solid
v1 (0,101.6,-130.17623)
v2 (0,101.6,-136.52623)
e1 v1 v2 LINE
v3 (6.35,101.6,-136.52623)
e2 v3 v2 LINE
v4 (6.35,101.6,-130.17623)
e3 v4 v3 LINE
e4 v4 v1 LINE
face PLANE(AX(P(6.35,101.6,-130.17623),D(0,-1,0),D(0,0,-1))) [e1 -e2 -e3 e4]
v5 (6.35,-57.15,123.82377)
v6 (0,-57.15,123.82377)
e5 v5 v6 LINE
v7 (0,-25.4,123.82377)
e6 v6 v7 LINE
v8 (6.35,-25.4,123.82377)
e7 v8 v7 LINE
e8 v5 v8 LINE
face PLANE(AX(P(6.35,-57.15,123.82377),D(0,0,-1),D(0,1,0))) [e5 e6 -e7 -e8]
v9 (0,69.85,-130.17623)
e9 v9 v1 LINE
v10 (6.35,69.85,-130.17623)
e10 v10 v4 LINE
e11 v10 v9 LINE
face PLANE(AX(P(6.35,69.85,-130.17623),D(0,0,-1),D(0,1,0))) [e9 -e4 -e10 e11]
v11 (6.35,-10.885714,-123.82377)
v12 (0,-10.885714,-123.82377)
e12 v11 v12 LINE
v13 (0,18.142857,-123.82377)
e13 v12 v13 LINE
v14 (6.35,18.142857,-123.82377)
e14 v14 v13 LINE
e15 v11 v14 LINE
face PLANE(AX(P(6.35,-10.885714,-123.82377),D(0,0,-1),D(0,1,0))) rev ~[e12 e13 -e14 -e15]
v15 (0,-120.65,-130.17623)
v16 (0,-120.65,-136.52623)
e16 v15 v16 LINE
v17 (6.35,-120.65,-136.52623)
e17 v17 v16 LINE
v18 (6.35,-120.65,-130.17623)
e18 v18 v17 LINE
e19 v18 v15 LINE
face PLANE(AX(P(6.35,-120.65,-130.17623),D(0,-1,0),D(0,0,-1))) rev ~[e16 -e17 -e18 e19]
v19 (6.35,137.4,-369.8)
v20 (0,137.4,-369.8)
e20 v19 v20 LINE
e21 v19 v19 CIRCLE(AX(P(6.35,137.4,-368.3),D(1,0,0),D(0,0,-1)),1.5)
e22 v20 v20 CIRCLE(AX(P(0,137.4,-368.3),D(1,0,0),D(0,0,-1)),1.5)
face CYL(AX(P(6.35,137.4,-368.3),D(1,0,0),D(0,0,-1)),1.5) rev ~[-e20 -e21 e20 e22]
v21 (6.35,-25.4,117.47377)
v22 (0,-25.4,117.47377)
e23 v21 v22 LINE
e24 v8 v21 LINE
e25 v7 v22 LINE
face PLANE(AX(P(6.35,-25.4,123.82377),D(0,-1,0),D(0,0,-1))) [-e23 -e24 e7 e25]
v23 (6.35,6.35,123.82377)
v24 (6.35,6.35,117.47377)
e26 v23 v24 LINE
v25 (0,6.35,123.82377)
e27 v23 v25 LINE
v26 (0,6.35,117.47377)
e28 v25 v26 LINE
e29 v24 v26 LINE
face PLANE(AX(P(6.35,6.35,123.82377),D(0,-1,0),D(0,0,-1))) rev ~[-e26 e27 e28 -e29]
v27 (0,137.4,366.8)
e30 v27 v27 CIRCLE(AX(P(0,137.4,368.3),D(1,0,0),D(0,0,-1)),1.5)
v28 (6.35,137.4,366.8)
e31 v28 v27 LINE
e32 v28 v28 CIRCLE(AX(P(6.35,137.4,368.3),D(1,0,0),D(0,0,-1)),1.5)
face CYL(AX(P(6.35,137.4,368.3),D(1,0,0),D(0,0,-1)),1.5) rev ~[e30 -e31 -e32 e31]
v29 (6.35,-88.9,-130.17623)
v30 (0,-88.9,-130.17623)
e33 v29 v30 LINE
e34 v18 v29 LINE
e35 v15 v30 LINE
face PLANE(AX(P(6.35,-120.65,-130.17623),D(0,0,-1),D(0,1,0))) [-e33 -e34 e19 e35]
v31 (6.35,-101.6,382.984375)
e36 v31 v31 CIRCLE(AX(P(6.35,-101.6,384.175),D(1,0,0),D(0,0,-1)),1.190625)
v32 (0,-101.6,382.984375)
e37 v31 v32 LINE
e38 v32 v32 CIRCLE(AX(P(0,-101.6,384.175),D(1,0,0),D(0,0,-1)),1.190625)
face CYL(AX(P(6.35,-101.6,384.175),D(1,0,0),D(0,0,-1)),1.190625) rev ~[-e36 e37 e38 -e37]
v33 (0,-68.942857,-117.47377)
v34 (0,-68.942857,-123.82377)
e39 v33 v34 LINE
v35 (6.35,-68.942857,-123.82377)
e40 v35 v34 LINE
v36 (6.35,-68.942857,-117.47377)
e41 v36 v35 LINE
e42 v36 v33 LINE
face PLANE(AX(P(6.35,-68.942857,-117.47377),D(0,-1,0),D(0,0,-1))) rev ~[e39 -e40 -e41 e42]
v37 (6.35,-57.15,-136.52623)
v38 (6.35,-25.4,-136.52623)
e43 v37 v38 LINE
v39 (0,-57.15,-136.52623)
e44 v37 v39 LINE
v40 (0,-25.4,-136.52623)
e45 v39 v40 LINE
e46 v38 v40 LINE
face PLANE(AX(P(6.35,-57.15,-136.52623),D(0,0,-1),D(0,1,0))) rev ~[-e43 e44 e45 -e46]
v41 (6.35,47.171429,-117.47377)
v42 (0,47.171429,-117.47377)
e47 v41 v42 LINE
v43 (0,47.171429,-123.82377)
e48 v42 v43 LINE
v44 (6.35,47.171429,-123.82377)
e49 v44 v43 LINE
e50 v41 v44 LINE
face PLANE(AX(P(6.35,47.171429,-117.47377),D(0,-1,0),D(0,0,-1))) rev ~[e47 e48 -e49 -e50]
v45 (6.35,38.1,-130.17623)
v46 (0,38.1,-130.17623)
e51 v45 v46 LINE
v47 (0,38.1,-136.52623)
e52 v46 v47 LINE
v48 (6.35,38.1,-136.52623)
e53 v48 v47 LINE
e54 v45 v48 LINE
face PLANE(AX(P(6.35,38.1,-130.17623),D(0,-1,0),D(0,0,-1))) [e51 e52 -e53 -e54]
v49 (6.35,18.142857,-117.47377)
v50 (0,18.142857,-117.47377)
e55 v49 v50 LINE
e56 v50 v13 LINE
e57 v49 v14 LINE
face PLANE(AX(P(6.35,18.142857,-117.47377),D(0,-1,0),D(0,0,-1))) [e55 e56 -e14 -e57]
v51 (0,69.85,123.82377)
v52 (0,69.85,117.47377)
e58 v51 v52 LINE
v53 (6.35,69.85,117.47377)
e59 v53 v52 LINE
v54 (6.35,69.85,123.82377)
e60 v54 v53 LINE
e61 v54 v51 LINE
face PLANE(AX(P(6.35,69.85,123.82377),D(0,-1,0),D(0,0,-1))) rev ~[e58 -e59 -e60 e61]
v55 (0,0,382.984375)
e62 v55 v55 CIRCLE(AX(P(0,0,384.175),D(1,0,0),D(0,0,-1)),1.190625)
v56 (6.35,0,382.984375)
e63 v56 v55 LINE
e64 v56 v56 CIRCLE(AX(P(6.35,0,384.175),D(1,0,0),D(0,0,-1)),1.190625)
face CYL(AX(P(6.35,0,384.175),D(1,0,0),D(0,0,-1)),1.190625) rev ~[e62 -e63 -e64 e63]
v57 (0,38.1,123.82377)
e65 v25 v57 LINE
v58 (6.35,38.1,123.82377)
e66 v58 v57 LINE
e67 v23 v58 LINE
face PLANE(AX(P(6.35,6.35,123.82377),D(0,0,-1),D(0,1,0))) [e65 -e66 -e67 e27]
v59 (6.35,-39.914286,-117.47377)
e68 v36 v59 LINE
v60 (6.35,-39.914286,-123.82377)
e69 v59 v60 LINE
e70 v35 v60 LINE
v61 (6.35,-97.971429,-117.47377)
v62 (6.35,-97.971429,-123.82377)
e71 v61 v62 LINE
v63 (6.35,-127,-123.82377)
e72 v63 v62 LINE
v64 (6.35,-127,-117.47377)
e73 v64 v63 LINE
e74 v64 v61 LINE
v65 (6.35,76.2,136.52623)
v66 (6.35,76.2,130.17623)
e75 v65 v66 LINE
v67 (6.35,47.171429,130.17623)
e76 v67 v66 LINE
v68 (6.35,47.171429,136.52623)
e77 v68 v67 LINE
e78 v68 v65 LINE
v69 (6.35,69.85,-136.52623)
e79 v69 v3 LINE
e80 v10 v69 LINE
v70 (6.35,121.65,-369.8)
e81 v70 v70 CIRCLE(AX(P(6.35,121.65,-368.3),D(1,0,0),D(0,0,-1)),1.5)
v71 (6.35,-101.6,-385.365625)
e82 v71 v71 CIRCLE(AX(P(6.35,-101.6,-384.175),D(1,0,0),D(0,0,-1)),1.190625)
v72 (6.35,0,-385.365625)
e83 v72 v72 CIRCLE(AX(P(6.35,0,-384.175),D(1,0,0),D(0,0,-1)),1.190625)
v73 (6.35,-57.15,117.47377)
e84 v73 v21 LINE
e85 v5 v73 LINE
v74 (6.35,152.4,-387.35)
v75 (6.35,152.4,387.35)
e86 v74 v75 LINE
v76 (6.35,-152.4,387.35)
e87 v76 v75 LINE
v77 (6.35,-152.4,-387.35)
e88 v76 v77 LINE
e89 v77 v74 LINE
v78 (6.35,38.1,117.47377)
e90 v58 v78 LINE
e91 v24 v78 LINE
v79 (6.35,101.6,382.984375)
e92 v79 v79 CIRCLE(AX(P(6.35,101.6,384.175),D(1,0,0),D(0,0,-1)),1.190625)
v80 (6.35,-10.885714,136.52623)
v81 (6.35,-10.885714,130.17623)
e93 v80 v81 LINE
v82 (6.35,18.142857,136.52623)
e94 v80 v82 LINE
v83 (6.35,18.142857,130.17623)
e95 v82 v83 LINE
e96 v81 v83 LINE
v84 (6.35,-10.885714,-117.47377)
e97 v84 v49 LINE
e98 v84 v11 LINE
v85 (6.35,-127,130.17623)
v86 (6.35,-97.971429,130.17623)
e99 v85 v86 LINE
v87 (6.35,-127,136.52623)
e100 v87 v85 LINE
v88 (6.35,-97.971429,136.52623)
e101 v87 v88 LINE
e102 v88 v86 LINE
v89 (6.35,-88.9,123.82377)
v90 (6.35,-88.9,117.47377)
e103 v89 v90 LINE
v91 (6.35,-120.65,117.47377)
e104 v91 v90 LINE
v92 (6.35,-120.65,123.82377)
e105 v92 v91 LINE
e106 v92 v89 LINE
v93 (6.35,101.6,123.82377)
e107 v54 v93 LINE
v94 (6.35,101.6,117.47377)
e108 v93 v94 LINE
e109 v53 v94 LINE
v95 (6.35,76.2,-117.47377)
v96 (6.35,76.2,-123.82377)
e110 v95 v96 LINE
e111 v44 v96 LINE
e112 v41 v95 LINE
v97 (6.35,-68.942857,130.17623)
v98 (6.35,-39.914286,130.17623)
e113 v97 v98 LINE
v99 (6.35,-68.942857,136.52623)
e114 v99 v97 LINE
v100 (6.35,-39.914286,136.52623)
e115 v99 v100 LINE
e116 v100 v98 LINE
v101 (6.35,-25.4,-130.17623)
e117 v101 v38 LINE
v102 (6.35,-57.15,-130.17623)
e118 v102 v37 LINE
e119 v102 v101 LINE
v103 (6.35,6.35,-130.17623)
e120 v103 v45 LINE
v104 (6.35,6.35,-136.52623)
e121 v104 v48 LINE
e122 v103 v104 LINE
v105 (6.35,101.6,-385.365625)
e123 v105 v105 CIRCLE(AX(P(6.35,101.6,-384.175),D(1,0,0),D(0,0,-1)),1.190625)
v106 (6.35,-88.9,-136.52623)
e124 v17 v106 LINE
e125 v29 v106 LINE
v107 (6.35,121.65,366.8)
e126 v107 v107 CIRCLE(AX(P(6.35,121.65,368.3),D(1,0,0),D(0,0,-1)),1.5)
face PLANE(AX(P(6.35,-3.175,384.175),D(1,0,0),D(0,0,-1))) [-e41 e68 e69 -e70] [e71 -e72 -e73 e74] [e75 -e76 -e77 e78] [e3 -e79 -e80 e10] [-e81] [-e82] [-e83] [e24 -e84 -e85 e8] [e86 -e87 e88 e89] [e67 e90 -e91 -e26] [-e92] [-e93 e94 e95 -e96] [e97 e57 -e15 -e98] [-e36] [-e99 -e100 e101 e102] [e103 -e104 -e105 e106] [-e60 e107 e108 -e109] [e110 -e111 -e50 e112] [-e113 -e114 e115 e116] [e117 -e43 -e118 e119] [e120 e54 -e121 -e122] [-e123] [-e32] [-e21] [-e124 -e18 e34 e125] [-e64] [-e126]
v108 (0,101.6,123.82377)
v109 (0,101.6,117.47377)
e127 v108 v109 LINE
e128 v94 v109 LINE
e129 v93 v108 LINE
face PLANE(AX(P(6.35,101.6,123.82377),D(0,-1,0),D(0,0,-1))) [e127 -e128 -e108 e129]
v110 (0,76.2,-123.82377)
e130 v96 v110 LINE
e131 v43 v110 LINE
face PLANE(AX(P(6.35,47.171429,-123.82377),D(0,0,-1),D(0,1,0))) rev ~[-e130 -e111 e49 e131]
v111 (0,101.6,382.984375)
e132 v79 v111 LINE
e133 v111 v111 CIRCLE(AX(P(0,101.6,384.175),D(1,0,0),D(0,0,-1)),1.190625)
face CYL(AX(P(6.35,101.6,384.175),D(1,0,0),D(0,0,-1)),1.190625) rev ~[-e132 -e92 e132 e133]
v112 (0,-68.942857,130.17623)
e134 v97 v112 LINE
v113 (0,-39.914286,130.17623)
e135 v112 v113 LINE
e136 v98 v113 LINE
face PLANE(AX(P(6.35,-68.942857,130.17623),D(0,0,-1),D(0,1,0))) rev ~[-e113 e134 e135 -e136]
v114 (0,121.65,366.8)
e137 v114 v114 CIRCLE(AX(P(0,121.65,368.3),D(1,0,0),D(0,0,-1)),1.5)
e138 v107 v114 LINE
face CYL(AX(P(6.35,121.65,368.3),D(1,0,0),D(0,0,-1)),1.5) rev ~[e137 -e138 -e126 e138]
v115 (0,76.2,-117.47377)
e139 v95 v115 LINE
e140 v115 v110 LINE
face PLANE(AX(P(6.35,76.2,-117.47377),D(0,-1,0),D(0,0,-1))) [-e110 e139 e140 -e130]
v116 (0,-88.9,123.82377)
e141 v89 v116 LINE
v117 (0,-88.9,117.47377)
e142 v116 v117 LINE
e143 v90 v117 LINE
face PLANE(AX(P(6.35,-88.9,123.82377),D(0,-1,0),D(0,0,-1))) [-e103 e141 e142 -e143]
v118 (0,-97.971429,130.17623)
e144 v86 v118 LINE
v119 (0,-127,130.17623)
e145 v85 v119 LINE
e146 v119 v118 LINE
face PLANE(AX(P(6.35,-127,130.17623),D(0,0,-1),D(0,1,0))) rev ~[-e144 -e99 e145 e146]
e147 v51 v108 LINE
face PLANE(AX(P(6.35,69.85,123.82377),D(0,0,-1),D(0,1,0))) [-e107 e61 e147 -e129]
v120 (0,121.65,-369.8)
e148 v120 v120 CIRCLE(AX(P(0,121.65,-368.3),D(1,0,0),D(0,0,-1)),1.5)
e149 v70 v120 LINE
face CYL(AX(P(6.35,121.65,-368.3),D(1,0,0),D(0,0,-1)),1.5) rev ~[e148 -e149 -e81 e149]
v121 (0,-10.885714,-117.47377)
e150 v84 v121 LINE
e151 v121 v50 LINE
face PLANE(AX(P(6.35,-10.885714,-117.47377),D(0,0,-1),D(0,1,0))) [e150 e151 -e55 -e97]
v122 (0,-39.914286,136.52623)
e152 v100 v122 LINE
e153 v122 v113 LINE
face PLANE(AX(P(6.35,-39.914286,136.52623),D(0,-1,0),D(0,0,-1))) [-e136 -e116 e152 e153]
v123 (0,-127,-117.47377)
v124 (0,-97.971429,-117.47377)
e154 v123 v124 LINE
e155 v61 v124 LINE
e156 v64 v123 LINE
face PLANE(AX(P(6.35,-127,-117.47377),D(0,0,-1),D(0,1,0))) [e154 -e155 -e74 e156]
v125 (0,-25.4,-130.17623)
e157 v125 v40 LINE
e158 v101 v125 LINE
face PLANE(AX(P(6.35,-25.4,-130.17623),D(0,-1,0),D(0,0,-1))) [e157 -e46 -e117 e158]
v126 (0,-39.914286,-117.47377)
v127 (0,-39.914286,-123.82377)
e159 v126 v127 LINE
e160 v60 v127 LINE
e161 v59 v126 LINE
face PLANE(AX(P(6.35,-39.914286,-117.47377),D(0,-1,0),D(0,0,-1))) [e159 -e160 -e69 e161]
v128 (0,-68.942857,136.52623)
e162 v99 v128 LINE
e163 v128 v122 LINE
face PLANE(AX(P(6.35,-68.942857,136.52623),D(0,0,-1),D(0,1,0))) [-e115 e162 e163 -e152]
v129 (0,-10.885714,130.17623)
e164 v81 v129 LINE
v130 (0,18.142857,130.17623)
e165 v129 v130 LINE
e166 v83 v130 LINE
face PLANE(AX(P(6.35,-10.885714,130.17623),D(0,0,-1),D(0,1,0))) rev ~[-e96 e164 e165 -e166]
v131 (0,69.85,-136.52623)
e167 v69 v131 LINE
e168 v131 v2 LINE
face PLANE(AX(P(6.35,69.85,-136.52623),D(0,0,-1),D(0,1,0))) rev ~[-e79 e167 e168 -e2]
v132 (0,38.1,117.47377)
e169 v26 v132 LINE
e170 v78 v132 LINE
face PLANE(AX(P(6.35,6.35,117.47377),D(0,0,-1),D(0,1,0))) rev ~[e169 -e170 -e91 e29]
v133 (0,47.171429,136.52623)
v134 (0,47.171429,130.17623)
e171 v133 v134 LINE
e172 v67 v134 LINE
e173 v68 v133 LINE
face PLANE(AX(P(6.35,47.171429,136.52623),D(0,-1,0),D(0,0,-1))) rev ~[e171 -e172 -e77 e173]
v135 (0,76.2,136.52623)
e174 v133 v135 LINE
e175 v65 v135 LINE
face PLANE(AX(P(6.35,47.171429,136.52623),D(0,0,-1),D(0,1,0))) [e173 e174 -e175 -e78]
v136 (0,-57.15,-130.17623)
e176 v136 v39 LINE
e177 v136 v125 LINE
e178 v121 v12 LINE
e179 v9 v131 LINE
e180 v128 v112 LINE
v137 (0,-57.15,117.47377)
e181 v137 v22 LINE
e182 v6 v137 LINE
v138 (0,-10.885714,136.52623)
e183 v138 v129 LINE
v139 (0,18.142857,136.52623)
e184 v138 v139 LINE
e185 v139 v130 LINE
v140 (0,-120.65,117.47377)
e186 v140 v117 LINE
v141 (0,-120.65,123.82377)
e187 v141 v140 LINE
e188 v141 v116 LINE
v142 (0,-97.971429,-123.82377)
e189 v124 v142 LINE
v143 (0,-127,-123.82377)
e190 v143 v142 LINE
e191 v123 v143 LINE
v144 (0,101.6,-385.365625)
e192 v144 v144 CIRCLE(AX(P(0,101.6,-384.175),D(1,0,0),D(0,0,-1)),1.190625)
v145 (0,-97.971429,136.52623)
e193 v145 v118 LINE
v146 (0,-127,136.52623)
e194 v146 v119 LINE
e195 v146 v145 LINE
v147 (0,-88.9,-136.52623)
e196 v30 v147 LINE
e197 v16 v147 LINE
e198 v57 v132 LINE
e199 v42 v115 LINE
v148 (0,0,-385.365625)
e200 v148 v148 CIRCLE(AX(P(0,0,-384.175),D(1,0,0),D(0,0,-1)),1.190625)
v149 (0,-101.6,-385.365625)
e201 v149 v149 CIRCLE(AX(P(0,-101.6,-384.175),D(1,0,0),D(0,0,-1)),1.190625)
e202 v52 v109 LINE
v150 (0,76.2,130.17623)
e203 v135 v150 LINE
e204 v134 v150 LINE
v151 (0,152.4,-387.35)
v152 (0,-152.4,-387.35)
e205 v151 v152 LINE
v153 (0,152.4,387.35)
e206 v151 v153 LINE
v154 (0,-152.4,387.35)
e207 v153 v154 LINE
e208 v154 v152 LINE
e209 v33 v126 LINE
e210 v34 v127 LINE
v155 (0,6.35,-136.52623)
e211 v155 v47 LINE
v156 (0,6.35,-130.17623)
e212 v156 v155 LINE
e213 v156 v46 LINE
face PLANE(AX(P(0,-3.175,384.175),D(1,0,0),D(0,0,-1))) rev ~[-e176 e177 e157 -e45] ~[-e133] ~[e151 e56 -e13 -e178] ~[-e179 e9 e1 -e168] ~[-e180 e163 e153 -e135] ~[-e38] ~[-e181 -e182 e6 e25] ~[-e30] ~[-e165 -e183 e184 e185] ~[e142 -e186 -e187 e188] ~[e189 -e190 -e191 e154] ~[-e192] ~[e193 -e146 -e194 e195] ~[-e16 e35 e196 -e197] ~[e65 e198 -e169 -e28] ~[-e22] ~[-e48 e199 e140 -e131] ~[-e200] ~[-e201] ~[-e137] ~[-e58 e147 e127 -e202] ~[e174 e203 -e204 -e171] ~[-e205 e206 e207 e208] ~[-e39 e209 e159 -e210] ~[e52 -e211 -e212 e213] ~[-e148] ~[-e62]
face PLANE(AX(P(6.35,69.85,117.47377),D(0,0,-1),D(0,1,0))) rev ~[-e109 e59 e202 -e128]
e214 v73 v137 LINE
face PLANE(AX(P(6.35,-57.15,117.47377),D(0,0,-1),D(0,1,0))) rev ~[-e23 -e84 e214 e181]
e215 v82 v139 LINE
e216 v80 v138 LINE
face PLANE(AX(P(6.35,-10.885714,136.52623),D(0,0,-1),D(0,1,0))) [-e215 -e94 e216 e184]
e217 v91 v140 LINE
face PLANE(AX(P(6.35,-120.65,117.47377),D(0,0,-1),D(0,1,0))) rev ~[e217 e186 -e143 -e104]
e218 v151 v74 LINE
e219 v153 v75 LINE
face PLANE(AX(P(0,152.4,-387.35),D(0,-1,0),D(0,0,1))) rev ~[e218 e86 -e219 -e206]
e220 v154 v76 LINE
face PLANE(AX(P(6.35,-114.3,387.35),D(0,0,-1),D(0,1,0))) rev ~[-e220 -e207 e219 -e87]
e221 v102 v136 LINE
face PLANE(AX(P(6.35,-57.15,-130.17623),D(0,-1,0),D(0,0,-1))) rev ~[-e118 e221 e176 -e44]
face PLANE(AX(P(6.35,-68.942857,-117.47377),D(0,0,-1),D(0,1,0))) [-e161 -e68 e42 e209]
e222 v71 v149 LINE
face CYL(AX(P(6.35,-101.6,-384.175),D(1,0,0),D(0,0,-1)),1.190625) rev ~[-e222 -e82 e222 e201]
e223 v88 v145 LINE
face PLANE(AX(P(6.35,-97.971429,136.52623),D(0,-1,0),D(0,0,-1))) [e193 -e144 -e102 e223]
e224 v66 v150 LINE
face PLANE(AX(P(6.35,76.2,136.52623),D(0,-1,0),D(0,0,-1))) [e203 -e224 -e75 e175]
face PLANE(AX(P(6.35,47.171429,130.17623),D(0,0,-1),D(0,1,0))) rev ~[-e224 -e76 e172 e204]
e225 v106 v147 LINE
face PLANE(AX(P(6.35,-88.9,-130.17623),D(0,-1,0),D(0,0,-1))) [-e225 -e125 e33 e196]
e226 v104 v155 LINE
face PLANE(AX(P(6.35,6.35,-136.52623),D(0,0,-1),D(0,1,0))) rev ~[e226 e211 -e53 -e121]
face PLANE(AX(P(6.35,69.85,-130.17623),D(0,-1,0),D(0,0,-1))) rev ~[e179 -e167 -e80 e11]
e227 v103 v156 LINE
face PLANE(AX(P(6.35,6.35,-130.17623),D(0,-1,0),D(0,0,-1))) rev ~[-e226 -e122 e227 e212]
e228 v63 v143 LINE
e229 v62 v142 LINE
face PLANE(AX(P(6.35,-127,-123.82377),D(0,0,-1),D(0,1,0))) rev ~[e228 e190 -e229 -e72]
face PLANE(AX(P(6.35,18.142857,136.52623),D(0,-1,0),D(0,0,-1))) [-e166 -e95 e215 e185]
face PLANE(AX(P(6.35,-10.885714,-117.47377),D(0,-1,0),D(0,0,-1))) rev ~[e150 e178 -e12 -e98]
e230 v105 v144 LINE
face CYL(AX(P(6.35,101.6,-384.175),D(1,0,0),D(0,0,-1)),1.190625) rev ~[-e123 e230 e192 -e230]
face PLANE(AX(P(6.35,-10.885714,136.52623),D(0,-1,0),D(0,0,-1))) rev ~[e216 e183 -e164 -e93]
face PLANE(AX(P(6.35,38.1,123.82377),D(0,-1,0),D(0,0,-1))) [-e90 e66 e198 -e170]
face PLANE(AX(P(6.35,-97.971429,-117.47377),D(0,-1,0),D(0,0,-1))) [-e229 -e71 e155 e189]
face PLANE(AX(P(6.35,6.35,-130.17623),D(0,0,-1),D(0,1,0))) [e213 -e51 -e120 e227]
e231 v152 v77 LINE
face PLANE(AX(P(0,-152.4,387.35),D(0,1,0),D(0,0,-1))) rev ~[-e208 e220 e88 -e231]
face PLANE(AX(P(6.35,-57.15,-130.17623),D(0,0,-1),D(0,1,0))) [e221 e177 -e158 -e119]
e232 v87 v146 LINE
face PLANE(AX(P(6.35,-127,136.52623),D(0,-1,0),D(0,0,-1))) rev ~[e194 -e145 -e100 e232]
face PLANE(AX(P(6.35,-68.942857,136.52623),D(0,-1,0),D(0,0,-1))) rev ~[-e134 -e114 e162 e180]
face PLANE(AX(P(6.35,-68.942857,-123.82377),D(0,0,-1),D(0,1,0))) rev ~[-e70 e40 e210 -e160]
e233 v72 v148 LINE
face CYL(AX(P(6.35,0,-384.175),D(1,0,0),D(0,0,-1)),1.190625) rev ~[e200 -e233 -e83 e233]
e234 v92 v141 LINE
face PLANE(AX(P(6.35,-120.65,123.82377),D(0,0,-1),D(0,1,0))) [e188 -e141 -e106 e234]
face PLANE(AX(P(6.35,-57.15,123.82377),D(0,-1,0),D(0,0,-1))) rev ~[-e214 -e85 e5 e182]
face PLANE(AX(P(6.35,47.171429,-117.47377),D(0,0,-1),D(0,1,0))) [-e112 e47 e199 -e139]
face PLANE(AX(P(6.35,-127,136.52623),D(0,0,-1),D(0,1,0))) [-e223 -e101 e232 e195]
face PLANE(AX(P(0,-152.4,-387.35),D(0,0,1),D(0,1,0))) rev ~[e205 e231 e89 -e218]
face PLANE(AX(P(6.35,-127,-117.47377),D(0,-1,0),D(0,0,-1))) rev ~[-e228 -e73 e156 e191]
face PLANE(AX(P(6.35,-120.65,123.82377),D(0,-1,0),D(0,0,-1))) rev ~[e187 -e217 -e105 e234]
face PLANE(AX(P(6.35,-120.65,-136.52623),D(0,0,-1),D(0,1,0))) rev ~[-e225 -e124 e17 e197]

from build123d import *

# Parameters (mm, degrees)
BOSS_EXTRUDE1_DEPTH            = 6.35
SKETCH3_W                      = 6.35
SKETCH3_H                      = 31.75
SKETCH3_H_2                    = 29.028571429
CUT_EXTRUDE1_DEPTH             = 419.66682159
SKETCH4_R                      = 1.5
CUT_EXTRUDE2_DEPTH             = 6.35
SKETCH5_W                      = 6.35
SKETCH5_H                      = 44.45
SKETCH5_W_2                    = 59.592307692
SKETCH5_H_2                    = 6.35
CUT_EXTRUDE3_DEPTH             = 6.35
SKETCH6_W                      = 6.35
SKETCH6_H                      = 222.25
BOSS_EXTRUDE2_DEPTH            = 6.35
SKETCH7_W                      = 774.7
SKETCH7_H                      = 14.696452311
CUT_EXTRUDE4_DEPTH             = 6.35
SKETCH8_R                      = 1.190625
HOLES_FOR_PLASTIC_SCREWS_DEPTH = 10


with BuildPart() as part:
    # Sketch1 → Boss-Extrude1 (new body)
    with BuildSketch(Plane(origin=(0, 0, 0), x_dir=(0, 0, -1), z_dir=(1, 0, 0))):
        Polygon((-387.35, 152.4), (-387.35, 107.95), (-381, 107.95), (-381, 63.5), (-387.35, 63.5), (-387.35, 19.05), (-381, 19.05), (-381, -25.4), (-387.35, -25.4), (-387.35, -69.85), (-381, -69.85), (-381, -114.3), (-387.35, -114.3), (-387.35, -152.4), (-327.757692308, -152.4), (-327.757692308, -158.75), (-268.165384615, -158.75), (-268.165384615, -152.4), (-208.573076923, -152.4), (-208.573076923, -158.75), (-148.980769231, -158.75), (-148.980769231, -152.4), (-89.388461538, -152.4), (-89.388461538, -158.75), (-29.796153846, -158.75), (-29.796153846, -152.4), (29.796153846, -152.4), (29.796153846, -158.75), (89.388461538, -158.75), (89.388461538, -152.4), (148.980769231, -152.4), (148.980769231, -158.75), (208.573076923, -158.75), (208.573076923, -152.4), (268.165384615, -152.4), (268.165384615, -158.75), (327.757692308, -158.75), (327.757692308, -152.4), (387.35, -152.4), (387.35, -114.3), (381, -114.3), (381, -69.85), (387.35, -69.85), (387.35, -25.4), (381, -25.4), (381, 19.05), (387.35, 19.05), (387.35, 63.5), (381, 63.5), (381, 107.95), (387.35, 107.95), (387.35, 152.4), align=None)
    extrude(amount=BOSS_EXTRUDE1_DEPTH)

    # Sketch3 → Cut-Extrude1 (cut, through all)
    with BuildSketch(Plane(origin=(6.35, 0, 0), x_dir=(0, 0, -1), z_dir=(1, 0, 0))):
        with Locations((-120.648769685, -104.775)):
            Rectangle(SKETCH3_W, SKETCH3_H)
        with Locations((-120.648769685, -41.275)):
            Rectangle(SKETCH3_W, SKETCH3_H)
        with Locations((-120.648769685, 22.225)):
            Rectangle(SKETCH3_W, SKETCH3_H)
        with Locations((-120.648769685, 85.725)):
            Rectangle(SKETCH3_W, SKETCH3_H)
        with Locations((-133.351230315, 61.685714285)):
            Rectangle(SKETCH3_W, SKETCH3_H_2)
        with Locations((-133.351230315, 3.628571428)):
            Rectangle(SKETCH3_W, SKETCH3_H_2)
        with Locations((-133.351230315, -54.428571428)):
            Rectangle(SKETCH3_W, SKETCH3_H_2)
        with Locations((-133.351230315, -112.485714286)):
            Rectangle(SKETCH3_W, SKETCH3_H_2)
        with Locations((133.351230315, 85.725)):
            Rectangle(SKETCH3_W, SKETCH3_H)
        with Locations((120.648769685, 61.685714285)):
            Rectangle(SKETCH3_W, SKETCH3_H_2)
        with Locations((133.351230315, 22.225)):
            Rectangle(SKETCH3_W, SKETCH3_H)
        with Locations((120.648769685, 3.628571428)):
            Rectangle(SKETCH3_W, SKETCH3_H_2)
        with Locations((133.351230315, -41.275)):
            Rectangle(SKETCH3_W, SKETCH3_H)
        with Locations((120.648769685, -54.428571428)):
            Rectangle(SKETCH3_W, SKETCH3_H_2)
        with Locations((133.351230315, -104.775)):
            Rectangle(SKETCH3_W, SKETCH3_H)
        with Locations((120.648769685, -112.485714286)):
            Rectangle(SKETCH3_W, SKETCH3_H_2)
    extrude(amount=-CUT_EXTRUDE1_DEPTH, mode=Mode.SUBTRACT)

    # Sketch4 → Cut-Extrude2 (cut)
    with BuildSketch(Plane(origin=(6.35, 0, 0), x_dir=(0, 0, -1), z_dir=(1, 0, 0))):
        with Locations((-368.3, 137.4)):
            Circle(SKETCH4_R)
        with Locations((-368.3, 121.65)):
            Circle(SKETCH4_R)
        with Locations((368.3, 137.4)):
            Circle(SKETCH4_R)
        with Locations((368.3, 121.65)):
            Circle(SKETCH4_R)
    extrude(amount=-CUT_EXTRUDE2_DEPTH, mode=Mode.SUBTRACT)

    # Sketch5 → Cut-Extrude3 (cut)
    with BuildSketch(Plane(origin=(6.35, 0, 0), x_dir=(0, 0, -1), z_dir=(1, 0, 0))):
        with Locations((-384.175, 41.275)):
            Rectangle(SKETCH5_W, SKETCH5_H)
        with Locations((-384.175, -47.625)):
            Rectangle(SKETCH5_W, SKETCH5_H)
        with Locations((-178.776923077, -155.575)):
            Rectangle(SKETCH5_W_2, SKETCH5_H_2)
        with Locations((-59.592307692, -155.575)):
            Rectangle(SKETCH5_W_2, SKETCH5_H_2)
        with Locations((59.592307692, -155.575)):
            Rectangle(SKETCH5_W_2, SKETCH5_H_2)
        with Locations((178.776923077, -155.575)):
            Rectangle(SKETCH5_W_2, SKETCH5_H_2)
        with Locations((384.175, -47.625)):
            Rectangle(SKETCH5_W, SKETCH5_H)
        with Locations((384.175, 41.275)):
            Rectangle(SKETCH5_W, SKETCH5_H)
    extrude(amount=-CUT_EXTRUDE3_DEPTH, mode=Mode.SUBTRACT)

    # Sketch6 → Boss-Extrude2 (add)
    with BuildSketch(Plane(origin=(6.35, 0, 0), x_dir=(0, 0, -1), z_dir=(1, 0, 0))):
        with Locations((-384.175, -3.175)):
            Rectangle(SKETCH6_W, SKETCH6_H)
        with Locations((384.175, -3.175)):
            Rectangle(SKETCH6_W, SKETCH6_H)
    extrude(amount=-BOSS_EXTRUDE2_DEPTH)

    # Sketch7 → Cut-Extrude4 (cut)
    with BuildSketch(Plane(origin=(6.35, 0, 0), x_dir=(0, 0, -1), z_dir=(1, 0, 0))):
        with Locations((0, -159.748226155)):
            Rectangle(SKETCH7_W, SKETCH7_H)
    extrude(amount=-CUT_EXTRUDE4_DEPTH, mode=Mode.SUBTRACT)

    # Sketch8 → Holes for plastic screws (cut)
    with BuildSketch(Plane(origin=(6.35, 0, 0), x_dir=(0, 0, -1), z_dir=(1, 0, 0))):
        with Locations((384.175, 101.6)):
            Circle(SKETCH8_R)
        with Locations((384.175, 0)):
            Circle(SKETCH8_R)
        with Locations((384.175, -101.6)):
            Circle(SKETCH8_R)
        with Locations((-384.175, -101.6)):
            Circle(SKETCH8_R)
        with Locations((-384.175, 0)):
            Circle(SKETCH8_R)
        with Locations((-384.175, 101.6)):
            Circle(SKETCH8_R)
    extrude(amount=-HOLES_FOR_PLASTIC_SCREWS_DEPTH, mode=Mode.SUBTRACT)


solid = part.part
